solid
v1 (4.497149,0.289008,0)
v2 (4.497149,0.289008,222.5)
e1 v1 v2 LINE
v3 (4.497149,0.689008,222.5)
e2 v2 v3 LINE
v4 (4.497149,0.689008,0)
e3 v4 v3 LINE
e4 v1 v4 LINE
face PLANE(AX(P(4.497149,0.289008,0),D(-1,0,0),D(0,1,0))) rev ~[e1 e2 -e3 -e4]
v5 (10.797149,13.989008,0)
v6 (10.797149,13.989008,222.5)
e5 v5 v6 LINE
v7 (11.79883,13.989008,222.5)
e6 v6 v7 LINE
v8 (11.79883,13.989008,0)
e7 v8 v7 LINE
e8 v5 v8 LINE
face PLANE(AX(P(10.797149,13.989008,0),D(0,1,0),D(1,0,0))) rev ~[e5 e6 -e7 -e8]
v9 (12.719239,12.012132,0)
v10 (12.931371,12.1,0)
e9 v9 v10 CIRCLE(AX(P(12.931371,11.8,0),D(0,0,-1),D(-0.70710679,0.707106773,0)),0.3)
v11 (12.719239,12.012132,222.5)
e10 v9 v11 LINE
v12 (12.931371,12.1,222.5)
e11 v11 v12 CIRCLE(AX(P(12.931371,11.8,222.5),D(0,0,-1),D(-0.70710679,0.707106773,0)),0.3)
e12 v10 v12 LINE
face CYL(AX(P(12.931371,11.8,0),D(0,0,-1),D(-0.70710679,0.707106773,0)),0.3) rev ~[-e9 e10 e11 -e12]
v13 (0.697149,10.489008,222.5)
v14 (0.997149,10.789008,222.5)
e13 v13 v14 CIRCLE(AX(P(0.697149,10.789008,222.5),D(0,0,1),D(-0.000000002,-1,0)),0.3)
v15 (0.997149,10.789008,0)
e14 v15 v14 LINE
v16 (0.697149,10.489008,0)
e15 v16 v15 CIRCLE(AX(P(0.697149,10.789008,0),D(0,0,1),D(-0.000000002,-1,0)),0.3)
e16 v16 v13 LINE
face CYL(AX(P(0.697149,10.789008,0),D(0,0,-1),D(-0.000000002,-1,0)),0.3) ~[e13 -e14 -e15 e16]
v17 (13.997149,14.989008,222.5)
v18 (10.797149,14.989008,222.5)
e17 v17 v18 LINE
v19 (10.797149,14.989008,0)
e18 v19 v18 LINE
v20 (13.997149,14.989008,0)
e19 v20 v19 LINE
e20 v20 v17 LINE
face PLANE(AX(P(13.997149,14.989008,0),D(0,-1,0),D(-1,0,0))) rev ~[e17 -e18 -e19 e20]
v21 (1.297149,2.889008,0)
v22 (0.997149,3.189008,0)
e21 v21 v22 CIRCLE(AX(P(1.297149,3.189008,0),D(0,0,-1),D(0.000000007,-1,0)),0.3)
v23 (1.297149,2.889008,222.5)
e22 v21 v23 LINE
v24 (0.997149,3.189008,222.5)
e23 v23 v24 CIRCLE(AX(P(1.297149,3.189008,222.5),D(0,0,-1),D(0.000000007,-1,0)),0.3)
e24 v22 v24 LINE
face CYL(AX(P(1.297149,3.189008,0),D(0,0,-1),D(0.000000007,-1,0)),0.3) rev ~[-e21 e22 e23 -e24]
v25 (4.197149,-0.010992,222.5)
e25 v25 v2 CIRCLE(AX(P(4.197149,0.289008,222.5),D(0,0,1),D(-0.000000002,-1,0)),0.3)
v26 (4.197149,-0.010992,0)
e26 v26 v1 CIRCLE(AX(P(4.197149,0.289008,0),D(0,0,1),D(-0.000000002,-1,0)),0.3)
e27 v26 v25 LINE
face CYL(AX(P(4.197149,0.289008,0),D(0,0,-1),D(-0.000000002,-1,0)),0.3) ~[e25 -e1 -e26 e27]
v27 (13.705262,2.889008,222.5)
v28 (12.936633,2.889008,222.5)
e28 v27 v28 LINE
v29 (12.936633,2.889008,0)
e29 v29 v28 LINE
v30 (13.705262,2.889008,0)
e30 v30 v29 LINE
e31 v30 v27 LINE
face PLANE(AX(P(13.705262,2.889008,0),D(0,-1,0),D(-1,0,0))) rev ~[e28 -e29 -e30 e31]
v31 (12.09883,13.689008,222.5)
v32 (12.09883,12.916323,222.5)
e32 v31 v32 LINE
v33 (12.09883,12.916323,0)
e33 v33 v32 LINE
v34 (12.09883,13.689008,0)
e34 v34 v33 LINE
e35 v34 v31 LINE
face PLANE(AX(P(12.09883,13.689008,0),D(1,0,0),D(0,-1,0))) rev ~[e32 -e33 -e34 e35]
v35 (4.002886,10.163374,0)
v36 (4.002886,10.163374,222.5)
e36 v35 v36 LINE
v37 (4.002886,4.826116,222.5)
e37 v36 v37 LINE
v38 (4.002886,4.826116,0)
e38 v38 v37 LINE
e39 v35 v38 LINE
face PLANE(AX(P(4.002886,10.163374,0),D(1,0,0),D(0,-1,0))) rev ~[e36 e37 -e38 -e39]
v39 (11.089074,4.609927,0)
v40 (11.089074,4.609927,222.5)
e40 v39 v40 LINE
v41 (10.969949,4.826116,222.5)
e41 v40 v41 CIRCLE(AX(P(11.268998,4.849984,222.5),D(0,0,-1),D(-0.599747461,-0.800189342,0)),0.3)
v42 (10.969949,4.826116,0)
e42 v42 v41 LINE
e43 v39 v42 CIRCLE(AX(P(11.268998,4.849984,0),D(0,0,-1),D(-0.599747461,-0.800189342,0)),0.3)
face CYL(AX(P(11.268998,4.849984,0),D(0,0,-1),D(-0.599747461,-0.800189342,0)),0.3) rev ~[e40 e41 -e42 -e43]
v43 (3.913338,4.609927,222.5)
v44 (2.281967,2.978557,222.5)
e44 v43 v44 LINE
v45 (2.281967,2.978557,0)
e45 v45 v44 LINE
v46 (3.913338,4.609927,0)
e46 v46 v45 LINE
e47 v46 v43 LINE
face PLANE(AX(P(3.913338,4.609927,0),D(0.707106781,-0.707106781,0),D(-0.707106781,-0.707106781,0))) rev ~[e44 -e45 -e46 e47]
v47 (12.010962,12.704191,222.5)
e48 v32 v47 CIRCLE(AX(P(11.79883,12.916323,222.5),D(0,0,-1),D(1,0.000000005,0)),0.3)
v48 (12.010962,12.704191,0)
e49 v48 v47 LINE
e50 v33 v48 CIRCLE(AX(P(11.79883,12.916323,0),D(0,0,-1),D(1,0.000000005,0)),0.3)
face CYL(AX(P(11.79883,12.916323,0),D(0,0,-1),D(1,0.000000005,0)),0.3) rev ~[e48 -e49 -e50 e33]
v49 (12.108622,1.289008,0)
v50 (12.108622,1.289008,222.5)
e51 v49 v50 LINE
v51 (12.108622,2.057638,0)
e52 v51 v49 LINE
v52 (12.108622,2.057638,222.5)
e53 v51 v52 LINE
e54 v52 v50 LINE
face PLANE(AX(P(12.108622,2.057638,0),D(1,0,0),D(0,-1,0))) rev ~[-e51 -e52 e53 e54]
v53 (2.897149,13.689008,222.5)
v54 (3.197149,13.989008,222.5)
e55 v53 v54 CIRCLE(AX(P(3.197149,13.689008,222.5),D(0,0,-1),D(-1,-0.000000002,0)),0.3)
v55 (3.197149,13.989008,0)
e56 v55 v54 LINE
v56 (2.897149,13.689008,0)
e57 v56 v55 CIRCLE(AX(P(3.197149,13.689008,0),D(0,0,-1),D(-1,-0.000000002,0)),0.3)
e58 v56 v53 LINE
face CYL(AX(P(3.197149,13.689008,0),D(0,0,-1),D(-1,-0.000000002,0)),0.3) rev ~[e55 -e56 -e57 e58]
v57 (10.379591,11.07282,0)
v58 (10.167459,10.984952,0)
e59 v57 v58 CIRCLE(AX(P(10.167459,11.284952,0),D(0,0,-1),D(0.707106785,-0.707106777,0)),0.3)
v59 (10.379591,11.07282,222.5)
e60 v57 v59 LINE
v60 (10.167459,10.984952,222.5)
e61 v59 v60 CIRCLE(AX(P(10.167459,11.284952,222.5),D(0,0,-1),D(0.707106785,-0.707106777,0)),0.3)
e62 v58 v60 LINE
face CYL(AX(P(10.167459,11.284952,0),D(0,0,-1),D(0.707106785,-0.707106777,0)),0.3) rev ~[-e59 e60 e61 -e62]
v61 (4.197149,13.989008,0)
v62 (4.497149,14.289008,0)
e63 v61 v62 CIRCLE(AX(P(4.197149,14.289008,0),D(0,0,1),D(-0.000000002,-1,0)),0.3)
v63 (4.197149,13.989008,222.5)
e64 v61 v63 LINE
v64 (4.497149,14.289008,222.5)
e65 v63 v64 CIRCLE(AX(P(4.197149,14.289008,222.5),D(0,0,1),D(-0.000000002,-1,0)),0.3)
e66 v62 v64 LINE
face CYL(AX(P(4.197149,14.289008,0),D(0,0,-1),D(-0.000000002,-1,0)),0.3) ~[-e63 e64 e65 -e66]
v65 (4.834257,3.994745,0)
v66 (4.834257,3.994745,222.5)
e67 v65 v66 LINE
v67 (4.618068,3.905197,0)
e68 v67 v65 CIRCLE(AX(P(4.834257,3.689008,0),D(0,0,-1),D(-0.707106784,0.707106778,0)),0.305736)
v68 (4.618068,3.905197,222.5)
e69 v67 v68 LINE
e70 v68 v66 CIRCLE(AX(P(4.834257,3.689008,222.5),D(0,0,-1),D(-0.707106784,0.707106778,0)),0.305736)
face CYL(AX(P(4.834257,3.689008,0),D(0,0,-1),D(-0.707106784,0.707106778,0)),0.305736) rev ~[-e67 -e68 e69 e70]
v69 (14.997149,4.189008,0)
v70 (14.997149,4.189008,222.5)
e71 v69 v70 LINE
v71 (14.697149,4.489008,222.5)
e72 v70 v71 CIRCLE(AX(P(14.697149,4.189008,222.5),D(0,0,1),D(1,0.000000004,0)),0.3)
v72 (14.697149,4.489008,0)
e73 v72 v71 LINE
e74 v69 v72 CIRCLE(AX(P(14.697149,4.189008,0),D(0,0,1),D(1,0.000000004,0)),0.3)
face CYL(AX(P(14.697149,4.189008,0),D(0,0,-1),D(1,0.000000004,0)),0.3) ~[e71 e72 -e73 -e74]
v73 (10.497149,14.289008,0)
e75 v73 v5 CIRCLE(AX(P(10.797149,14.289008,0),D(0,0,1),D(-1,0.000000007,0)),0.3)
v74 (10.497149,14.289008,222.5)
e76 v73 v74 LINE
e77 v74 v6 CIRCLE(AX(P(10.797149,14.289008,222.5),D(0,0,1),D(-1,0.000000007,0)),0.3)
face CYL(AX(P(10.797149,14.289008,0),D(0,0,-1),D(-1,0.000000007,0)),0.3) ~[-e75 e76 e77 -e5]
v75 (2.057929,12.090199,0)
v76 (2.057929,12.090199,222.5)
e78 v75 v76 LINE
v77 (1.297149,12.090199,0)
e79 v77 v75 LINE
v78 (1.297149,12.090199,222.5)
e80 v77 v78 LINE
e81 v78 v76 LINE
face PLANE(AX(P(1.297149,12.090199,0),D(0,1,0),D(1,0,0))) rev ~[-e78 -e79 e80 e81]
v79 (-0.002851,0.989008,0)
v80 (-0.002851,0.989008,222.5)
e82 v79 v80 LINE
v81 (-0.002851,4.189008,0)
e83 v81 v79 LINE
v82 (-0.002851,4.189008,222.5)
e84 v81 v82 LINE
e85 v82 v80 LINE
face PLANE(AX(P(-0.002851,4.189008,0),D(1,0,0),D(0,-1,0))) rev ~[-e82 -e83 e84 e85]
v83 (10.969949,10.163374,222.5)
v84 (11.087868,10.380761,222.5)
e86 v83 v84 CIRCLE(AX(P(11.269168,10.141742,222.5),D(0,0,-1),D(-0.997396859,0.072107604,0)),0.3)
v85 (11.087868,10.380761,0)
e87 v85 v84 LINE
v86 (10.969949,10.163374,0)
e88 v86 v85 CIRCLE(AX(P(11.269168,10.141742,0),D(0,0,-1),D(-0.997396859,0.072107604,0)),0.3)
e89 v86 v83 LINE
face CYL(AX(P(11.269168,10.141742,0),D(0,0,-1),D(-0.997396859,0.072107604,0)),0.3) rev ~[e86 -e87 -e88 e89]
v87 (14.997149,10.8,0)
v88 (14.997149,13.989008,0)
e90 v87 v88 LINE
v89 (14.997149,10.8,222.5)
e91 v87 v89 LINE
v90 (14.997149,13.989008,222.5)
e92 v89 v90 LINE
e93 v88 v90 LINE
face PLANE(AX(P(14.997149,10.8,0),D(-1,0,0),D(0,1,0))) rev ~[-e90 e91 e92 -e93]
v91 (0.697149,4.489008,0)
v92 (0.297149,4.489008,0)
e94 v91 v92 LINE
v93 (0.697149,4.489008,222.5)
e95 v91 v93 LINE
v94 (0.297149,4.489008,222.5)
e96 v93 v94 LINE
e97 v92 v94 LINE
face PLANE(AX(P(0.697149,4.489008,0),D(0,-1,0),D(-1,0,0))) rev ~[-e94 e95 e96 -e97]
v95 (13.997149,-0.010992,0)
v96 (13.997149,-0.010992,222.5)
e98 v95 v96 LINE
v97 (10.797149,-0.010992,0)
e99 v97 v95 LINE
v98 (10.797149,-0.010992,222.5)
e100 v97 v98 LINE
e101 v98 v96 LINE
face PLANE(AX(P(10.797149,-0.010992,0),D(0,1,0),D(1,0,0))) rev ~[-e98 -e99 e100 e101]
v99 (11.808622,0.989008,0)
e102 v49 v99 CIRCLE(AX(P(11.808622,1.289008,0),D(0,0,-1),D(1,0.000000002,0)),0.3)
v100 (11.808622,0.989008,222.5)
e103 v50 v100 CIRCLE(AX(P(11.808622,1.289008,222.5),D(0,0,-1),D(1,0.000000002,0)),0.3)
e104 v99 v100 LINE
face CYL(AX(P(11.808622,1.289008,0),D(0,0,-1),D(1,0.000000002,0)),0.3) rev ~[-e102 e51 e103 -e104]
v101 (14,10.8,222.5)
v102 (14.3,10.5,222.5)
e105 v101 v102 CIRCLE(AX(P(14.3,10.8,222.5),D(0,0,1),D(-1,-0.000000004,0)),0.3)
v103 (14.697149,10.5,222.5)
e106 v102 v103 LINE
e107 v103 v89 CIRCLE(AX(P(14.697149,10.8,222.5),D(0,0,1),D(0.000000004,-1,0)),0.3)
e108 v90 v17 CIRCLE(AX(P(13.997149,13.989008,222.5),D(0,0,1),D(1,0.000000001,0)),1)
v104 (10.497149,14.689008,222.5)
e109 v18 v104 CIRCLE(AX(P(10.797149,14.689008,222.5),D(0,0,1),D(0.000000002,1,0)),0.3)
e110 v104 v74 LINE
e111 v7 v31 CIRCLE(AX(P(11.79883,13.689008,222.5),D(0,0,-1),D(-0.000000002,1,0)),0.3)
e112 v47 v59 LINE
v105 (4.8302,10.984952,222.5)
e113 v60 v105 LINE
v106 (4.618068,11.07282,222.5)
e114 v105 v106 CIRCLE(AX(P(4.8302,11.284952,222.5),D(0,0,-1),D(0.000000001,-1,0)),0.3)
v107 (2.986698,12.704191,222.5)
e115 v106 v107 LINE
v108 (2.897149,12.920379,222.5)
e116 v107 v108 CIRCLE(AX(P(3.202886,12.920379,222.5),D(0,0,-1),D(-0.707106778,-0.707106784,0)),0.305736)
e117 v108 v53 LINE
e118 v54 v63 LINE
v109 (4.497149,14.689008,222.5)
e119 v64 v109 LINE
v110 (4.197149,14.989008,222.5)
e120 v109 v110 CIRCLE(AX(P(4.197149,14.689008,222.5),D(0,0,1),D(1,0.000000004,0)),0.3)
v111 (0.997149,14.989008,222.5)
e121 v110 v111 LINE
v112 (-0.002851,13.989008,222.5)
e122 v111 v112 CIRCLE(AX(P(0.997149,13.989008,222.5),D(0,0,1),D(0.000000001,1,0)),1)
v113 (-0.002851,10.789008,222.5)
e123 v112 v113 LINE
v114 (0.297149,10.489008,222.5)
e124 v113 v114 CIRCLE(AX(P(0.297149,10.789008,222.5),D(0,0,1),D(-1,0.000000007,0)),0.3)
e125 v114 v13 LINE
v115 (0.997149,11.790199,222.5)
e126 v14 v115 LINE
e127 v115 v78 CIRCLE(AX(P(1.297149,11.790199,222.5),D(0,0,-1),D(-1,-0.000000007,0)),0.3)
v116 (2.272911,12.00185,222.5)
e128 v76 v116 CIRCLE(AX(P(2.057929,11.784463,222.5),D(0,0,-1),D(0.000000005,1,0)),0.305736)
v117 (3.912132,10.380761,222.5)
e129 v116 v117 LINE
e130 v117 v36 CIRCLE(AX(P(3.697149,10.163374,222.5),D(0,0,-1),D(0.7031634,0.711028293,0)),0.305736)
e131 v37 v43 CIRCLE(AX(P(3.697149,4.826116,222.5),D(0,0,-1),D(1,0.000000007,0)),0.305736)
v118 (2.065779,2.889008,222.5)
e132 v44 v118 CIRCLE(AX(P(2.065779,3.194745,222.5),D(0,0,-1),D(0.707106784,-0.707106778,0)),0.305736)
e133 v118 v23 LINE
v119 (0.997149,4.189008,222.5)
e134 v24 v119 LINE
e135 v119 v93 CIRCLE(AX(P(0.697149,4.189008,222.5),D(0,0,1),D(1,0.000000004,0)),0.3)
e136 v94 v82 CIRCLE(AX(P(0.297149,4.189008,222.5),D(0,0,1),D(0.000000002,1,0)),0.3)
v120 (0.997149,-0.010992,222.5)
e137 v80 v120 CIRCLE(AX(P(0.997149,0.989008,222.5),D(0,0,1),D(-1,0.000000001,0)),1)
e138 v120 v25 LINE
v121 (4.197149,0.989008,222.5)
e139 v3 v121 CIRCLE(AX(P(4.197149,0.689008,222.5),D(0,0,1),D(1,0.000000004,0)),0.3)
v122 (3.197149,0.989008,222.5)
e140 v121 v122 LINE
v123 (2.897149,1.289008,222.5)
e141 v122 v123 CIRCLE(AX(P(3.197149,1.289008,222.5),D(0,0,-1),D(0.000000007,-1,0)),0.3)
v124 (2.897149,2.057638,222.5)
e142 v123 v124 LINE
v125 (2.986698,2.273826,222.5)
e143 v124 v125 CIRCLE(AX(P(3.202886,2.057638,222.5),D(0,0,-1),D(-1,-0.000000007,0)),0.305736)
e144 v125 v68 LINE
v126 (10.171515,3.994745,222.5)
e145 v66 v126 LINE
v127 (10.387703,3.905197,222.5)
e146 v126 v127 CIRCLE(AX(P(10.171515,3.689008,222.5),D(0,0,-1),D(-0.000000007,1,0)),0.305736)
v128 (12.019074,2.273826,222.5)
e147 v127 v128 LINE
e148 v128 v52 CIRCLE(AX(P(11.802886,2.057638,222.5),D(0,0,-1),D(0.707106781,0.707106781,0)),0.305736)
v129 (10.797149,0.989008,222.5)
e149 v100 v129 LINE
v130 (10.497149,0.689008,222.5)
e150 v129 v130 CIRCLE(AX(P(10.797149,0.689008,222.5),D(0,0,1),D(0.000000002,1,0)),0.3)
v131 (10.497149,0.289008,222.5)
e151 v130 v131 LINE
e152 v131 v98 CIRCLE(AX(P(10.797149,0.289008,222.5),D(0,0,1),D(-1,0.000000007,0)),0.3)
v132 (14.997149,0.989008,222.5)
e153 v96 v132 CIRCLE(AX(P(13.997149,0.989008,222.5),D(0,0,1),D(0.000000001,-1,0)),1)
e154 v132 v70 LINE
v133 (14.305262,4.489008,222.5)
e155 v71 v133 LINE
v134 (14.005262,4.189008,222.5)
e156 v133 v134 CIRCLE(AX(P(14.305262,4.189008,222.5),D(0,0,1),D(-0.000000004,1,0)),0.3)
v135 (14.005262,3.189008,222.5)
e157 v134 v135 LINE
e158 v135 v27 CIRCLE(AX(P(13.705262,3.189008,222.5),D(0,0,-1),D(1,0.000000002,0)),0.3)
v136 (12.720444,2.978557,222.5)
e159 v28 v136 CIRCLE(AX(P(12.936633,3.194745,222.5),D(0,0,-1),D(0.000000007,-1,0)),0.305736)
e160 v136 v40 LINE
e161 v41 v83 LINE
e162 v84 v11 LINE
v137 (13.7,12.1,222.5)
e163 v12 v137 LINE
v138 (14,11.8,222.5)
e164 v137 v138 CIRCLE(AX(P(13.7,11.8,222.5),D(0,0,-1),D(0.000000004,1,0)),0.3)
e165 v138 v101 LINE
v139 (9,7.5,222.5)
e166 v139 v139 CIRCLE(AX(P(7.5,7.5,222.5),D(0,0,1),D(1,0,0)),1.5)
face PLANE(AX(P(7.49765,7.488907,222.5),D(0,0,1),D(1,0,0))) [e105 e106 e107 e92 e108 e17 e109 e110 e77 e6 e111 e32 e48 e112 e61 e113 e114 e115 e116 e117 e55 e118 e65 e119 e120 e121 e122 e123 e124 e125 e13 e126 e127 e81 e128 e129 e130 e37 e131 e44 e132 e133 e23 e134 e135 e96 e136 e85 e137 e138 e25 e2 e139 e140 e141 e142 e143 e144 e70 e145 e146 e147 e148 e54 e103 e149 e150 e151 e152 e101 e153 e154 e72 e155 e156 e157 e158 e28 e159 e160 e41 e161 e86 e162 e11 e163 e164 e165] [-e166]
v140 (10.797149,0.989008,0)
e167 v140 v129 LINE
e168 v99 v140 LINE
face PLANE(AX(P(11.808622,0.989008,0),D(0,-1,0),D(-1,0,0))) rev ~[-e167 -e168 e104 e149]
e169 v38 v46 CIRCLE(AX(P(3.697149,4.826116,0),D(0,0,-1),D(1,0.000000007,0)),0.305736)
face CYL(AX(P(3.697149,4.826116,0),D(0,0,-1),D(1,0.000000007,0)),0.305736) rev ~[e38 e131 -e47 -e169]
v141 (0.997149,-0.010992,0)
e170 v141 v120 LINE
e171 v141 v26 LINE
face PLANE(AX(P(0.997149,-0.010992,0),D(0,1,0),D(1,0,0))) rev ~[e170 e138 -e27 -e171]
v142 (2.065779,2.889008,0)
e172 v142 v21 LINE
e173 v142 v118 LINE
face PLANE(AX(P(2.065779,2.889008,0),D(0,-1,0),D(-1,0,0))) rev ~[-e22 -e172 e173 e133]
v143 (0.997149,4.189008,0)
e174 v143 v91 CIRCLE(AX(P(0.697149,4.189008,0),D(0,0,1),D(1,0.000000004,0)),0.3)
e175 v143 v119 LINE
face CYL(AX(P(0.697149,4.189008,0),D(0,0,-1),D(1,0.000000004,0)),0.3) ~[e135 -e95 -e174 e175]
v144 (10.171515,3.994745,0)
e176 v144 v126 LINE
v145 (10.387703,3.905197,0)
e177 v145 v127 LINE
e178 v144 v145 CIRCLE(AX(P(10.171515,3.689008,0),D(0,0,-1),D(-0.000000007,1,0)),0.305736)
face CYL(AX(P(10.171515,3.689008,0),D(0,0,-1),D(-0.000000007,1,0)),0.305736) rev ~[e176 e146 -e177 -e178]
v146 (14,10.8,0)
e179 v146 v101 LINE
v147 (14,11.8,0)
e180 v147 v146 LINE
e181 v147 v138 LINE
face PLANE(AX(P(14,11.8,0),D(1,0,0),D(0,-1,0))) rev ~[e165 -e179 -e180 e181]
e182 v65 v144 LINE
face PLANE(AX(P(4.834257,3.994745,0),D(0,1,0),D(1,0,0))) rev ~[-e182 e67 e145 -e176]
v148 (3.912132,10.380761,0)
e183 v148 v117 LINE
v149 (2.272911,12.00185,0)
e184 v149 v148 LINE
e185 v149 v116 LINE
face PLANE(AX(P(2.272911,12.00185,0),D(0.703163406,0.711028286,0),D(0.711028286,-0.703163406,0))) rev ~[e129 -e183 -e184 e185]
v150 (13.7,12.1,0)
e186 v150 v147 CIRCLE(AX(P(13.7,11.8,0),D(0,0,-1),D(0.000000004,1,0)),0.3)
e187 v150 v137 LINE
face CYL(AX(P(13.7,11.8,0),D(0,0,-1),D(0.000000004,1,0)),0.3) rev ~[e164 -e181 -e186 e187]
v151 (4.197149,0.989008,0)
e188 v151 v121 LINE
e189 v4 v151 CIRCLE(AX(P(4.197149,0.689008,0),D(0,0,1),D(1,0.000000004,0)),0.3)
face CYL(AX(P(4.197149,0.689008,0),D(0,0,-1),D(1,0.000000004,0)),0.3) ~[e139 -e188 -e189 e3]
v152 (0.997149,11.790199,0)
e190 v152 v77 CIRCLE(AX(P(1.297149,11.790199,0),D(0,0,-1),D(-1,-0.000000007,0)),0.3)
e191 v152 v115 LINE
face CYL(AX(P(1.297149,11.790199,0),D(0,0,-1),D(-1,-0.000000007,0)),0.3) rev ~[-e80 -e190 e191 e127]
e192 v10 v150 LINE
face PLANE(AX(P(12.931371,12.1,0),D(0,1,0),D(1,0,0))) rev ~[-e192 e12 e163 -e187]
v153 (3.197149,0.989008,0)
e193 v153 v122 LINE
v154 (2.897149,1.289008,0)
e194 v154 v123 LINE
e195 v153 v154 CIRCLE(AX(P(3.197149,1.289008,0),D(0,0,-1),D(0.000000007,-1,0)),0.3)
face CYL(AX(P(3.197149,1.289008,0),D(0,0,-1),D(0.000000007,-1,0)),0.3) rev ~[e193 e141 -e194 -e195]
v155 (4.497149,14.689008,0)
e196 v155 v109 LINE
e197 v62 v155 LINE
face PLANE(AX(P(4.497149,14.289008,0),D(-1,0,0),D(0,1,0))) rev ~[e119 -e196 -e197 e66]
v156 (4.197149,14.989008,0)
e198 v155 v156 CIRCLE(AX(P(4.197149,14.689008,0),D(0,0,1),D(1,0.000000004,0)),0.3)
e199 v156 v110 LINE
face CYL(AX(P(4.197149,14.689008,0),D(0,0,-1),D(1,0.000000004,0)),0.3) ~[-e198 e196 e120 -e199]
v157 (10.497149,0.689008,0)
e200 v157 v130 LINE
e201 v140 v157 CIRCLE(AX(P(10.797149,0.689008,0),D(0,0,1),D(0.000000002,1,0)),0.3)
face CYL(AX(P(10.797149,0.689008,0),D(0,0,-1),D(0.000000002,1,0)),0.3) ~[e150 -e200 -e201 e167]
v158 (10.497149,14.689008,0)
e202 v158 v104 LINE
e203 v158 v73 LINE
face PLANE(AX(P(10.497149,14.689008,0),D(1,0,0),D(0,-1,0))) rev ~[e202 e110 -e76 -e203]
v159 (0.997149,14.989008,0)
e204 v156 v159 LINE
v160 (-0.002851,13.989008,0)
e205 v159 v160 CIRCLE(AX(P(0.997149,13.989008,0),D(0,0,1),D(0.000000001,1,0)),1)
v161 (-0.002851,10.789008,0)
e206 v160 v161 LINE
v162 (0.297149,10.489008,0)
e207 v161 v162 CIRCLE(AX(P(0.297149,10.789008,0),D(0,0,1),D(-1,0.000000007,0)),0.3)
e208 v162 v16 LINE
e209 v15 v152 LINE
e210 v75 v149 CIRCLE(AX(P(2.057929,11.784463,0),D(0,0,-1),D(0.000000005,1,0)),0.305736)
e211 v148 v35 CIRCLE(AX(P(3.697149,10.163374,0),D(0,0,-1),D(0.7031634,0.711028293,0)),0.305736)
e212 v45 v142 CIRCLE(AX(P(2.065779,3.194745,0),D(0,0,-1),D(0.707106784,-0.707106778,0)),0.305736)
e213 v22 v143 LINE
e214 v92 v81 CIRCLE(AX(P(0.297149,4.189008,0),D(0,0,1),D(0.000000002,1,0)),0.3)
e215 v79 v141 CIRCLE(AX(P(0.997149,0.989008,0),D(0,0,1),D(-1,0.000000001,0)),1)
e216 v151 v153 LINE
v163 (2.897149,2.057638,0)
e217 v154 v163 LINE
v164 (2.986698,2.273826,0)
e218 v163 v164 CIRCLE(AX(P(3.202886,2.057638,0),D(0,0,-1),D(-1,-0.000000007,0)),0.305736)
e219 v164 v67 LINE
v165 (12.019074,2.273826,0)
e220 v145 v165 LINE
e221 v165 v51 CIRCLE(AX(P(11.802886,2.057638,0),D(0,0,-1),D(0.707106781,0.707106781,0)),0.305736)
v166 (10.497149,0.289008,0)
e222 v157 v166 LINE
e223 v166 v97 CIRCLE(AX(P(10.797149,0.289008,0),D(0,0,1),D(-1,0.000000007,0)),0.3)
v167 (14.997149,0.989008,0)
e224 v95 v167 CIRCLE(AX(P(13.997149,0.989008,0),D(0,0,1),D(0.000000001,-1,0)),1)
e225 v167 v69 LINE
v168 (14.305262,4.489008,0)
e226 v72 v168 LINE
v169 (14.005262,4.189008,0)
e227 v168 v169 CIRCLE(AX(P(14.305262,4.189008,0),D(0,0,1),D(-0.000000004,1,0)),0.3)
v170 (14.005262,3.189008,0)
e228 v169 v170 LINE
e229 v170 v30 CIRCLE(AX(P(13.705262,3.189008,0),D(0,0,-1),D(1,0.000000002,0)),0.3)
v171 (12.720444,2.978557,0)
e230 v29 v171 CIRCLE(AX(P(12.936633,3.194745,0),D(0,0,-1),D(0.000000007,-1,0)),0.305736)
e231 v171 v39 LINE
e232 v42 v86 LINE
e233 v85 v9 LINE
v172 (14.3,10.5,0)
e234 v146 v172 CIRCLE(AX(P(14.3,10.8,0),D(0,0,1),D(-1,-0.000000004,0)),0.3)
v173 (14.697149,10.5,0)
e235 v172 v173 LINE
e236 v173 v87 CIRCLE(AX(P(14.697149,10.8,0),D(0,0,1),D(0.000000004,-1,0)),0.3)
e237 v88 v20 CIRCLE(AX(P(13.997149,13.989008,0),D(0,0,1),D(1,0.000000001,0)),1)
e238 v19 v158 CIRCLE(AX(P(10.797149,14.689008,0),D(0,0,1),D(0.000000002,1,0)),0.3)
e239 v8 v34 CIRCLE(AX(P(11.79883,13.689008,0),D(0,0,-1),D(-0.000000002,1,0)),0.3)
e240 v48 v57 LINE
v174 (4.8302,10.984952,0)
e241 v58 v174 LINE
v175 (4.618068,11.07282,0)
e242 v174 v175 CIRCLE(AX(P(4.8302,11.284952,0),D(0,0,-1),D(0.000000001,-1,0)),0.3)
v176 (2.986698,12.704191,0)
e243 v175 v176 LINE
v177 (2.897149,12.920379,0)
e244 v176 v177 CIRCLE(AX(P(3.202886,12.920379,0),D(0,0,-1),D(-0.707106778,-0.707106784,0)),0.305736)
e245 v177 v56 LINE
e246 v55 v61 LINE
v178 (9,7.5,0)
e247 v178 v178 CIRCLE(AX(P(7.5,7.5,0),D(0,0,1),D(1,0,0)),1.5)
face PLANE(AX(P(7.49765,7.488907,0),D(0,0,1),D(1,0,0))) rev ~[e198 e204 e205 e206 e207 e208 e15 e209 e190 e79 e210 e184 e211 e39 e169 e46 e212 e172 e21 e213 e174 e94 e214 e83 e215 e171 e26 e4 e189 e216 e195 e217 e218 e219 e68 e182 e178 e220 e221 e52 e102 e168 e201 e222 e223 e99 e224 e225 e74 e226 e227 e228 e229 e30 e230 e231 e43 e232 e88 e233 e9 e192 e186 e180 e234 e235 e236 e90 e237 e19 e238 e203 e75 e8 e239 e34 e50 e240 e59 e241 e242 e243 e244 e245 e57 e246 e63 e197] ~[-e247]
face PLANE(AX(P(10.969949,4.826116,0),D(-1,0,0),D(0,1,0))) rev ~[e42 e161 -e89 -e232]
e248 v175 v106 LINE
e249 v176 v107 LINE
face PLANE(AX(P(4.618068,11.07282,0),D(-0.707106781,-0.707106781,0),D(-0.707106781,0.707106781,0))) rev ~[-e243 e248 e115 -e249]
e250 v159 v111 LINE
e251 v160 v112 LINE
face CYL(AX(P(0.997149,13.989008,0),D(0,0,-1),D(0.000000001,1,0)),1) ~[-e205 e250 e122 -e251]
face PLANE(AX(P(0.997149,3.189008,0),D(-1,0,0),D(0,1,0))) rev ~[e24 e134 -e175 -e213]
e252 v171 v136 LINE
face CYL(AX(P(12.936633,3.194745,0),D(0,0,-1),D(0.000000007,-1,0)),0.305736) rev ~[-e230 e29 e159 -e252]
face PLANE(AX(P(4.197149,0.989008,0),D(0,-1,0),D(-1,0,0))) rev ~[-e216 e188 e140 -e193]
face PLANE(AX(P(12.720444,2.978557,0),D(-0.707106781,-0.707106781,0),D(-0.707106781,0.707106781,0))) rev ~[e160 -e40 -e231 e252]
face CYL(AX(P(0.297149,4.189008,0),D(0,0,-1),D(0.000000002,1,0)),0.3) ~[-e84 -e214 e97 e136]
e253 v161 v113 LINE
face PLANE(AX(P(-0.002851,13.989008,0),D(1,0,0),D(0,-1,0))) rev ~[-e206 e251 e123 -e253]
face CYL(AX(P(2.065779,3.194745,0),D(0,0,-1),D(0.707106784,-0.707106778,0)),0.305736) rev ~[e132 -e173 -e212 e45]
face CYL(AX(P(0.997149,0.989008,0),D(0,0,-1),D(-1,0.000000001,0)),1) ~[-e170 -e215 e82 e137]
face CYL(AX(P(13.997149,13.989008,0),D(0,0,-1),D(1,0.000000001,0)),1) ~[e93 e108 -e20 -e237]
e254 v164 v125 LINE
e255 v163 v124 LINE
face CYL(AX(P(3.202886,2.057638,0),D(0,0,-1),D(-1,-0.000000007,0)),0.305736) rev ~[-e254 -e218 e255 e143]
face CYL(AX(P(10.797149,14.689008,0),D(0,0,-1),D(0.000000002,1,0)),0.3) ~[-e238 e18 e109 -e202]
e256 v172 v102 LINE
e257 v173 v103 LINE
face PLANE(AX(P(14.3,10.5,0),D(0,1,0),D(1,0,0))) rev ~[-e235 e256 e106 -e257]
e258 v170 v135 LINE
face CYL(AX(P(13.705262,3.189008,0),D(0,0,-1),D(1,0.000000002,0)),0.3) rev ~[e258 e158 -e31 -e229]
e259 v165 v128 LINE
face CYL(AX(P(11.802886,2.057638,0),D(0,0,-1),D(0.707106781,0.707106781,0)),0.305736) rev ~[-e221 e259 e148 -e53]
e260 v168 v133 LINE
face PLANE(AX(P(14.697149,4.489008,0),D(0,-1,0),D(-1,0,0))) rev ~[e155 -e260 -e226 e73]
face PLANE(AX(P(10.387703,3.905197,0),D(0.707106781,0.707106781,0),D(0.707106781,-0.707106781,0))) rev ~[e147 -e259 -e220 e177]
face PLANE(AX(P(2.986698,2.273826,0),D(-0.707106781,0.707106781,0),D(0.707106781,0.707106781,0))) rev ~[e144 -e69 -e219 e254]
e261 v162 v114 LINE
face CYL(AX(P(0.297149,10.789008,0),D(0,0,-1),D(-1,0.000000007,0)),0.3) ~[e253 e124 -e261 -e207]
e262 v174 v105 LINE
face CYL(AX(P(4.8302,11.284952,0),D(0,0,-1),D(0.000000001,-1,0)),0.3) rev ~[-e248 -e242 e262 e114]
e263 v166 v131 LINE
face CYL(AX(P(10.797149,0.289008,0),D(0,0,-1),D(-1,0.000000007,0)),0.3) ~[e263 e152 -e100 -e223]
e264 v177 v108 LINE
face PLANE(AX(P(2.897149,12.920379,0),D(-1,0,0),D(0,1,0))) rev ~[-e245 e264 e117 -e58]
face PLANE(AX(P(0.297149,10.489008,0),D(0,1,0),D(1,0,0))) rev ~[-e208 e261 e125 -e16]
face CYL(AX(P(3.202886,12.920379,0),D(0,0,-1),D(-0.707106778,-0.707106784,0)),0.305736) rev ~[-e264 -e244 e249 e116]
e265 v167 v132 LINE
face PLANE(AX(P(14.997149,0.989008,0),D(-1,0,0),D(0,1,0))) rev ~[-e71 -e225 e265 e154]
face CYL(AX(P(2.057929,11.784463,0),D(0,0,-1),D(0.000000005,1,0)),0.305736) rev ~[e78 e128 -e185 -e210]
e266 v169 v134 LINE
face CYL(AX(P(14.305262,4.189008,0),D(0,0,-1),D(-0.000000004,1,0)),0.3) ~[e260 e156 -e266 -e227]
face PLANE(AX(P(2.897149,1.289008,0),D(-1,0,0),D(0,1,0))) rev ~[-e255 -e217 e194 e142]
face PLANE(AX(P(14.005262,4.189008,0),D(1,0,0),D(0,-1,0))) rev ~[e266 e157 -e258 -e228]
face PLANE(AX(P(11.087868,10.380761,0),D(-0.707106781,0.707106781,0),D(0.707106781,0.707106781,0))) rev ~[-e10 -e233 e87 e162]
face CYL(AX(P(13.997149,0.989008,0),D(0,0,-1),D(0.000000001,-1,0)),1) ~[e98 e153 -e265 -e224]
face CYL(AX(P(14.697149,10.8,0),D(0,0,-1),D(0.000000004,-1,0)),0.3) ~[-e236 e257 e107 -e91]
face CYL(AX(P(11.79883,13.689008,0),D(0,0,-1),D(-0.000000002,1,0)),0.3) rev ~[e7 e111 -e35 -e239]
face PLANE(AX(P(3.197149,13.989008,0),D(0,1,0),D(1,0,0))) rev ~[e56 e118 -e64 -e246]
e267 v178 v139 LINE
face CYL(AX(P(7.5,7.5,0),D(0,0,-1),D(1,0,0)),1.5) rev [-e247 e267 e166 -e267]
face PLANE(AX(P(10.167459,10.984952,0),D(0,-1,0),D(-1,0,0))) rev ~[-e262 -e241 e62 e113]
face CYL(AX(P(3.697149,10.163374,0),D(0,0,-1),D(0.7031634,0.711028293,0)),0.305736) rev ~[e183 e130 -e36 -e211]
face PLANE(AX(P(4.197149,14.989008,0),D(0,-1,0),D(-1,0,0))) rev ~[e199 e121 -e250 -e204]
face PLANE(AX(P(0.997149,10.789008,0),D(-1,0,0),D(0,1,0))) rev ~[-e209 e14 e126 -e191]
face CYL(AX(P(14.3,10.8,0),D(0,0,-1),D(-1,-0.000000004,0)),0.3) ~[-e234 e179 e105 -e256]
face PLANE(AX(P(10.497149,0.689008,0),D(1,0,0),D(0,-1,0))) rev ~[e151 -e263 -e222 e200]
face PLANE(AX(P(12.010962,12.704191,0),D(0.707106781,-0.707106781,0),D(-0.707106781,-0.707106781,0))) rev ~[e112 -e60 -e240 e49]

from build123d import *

# Parameters (mm, degrees)
SKETCH1_R           = 1.5
BOSS_EXTRUDE1_DEPTH = 222.5


with BuildPart() as part:
    # Sketch1 → Boss-Extrude1 (new body)
    with BuildSketch(Plane.XY):
        with BuildLine():
            Line((0.997149379, -0.010991612), (4.197149379, -0.010991612))
            ThreePointArc((4.197149379, -0.010991612), (4.409281413, 0.076876353), (4.497149379, 0.289008388))
            Line((4.497149379, 0.289008388), (4.497149379, 0.689008388))
            ThreePointArc((4.497149379, 0.689008388), (4.409281413, 0.901140422), (4.197149379, 0.989008388))
            Line((4.197149379, 0.989008388), (3.197149379, 0.989008388))
            ThreePointArc((3.197149379, 0.989008388), (2.985017344, 1.076876353), (2.897149379, 1.289008388))
            Line((2.897149379, 1.289008388), (2.897149379, 2.057637538))
            ThreePointArc((2.897149379, 2.057637538), (2.920422177, 2.174637797), (2.9866975, 2.273825827))
            Line((2.9866975, 2.273825827), (4.61806835, 3.905196677))
            ThreePointArc((4.61806835, 3.905196677), (4.71725638, 3.971472), (4.834256639, 3.994744798))
            Line((4.834256639, 3.994744798), (10.171514939, 3.994744798))
            ThreePointArc((10.171514939, 3.994744798), (10.288515198, 3.971472), (10.387703228, 3.905196677))
            Line((10.387703228, 3.905196677), (12.019074078, 2.273825827))
            ThreePointArc((12.019074078, 2.273825827), (12.085349401, 2.174637797), (12.1086222, 2.057637538))
            Line((12.1086222, 2.057637538), (12.1086222, 1.289008388))
            ThreePointArc((12.1086222, 1.289008388), (12.020754234, 1.076876353), (11.8086222, 0.989008388))
            Line((11.8086222, 0.989008388), (10.797149379, 0.989008388))
            ThreePointArc((10.797149379, 0.989008388), (10.585017344, 0.901140422), (10.497149379, 0.689008388))
            Line((10.497149379, 0.689008388), (10.497149379, 0.289008388))
            ThreePointArc((10.497149379, 0.289008388), (10.585017344, 0.076876353), (10.797149379, -0.010991612))
            Line((10.797149379, -0.010991612), (13.997149379, -0.010991612))
            ThreePointArc((13.997149379, -0.010991612), (14.70425616, 0.281901607), (14.997149379, 0.989008388))
            Line((14.997149379, 0.989008388), (14.997149379, 4.189008388))
            ThreePointArc((14.997149379, 4.189008388), (14.909281413, 4.401140422), (14.697149379, 4.489008388))
            Line((14.697149379, 4.489008388), (14.305261888, 4.489008388))
            ThreePointArc((14.305261888, 4.489008388), (14.093129854, 4.401140422), (14.005261888, 4.189008388))
            Line((14.005261888, 4.189008388), (14.005261888, 3.189008388))
            ThreePointArc((14.005261888, 3.189008388), (13.917393922, 2.976876353), (13.705261888, 2.889008388))
            Line((13.705261888, 2.889008388), (12.936632738, 2.889008388))
            ThreePointArc((12.936632738, 2.889008388), (12.819632479, 2.912281186), (12.720444449, 2.978556509))
            Line((12.720444449, 2.978556509), (11.089073599, 4.609927359))
            ThreePointArc((11.089073599, 4.609927359), (11.006246661, 4.70520219), (10.969948855, 4.826115648))
            Line((10.969948855, 4.826115648), (10.969948855, 10.163373948))
            ThreePointArc((10.969948855, 10.163373948), (11.00546556, 10.284783861), (11.087867966, 10.380761184))
            Line((11.087867966, 10.380761184), (12.719238816, 12.012132034))
            ThreePointArc((12.719238816, 12.012132034), (12.81656582, 12.07716386), (12.93137085, 12.1))
            Line((12.93137085, 12.1), (13.7, 12.1))
            ThreePointArc((13.7, 12.1), (13.912132034, 12.012132034), (14, 11.8))
            Line((14, 11.8), (14, 10.8))
            ThreePointArc((14, 10.8), (14.087867966, 10.587867966), (14.3, 10.5))
            Line((14.3, 10.5), (14.697149379, 10.5))
            ThreePointArc((14.697149379, 10.5), (14.909281413, 10.587867966), (14.997149379, 10.8))
            Line((14.997149379, 10.8), (14.997149379, 13.989008388))
            ThreePointArc((14.997149379, 13.989008388), (14.70425616, 14.696115169), (13.997149379, 14.989008388))
            Line((13.997149379, 14.989008388), (10.797149379, 14.989008388))
            ThreePointArc((10.797149379, 14.989008388), (10.585017344, 14.901140422), (10.497149379, 14.689008388))
            Line((10.497149379, 14.689008388), (10.497149379, 14.289008388))
            ThreePointArc((10.497149379, 14.289008388), (10.585017344, 14.076876353), (10.797149379, 13.989008388))
            Line((10.797149379, 13.989008388), (11.798829534, 13.989008388))
            ThreePointArc((11.798829534, 13.989008388), (12.010961569, 13.901140422), (12.098829534, 13.689008388))
            Line((12.098829534, 13.689008388), (12.098829534, 12.916322983))
            ThreePointArc((12.098829534, 12.916322983), (12.075993394, 12.801517953), (12.010961569, 12.704190949))
            Line((12.010961569, 12.704190949), (10.379590719, 11.072820099))
            ThreePointArc((10.379590719, 11.072820099), (10.282263714, 11.007788273), (10.167458684, 10.984952133))
            Line((10.167458684, 10.984952133), (4.830200384, 10.984952133))
            ThreePointArc((4.830200384, 10.984952133), (4.715395355, 11.007788273), (4.61806835, 11.072820099))
            Line((4.61806835, 11.072820099), (2.9866975, 12.704190949))
            ThreePointArc((2.9866975, 12.704190949), (2.920422177, 12.803378979), (2.897149379, 12.920379238))
            Line((2.897149379, 12.920379238), (2.897149379, 13.689008388))
            ThreePointArc((2.897149379, 13.689008388), (2.985017344, 13.901140422), (3.197149379, 13.989008388))
            Line((3.197149379, 13.989008388), (4.197149379, 13.989008388))
            ThreePointArc((4.197149379, 13.989008388), (4.409281413, 14.076876353), (4.497149379, 14.289008388))
            Line((4.497149379, 14.289008388), (4.497149379, 14.689008388))
            ThreePointArc((4.497149379, 14.689008388), (4.409281413, 14.901140422), (4.197149379, 14.989008388))
            Line((4.197149379, 14.989008388), (0.997149379, 14.989008388))
            ThreePointArc((0.997149379, 14.989008388), (0.290042597, 14.696115169), (-0.002850621, 13.989008388))
            Line((-0.002850621, 13.989008388), (-0.002850621, 10.789008388))
            ThreePointArc((-0.002850621, 10.789008388), (0.085017344, 10.576876353), (0.297149379, 10.489008388))
            Line((0.297149379, 10.489008388), (0.697149379, 10.489008388))
            ThreePointArc((0.697149379, 10.489008388), (0.909281413, 10.576876353), (0.997149379, 10.789008388))
            Line((0.997149379, 10.789008388), (0.997149379, 11.790199043))
            ThreePointArc((0.997149379, 11.790199043), (1.085017344, 12.002331078), (1.297149379, 12.090199043))
            Line((1.297149379, 12.090199043), (2.057928823, 12.090199043))
            ThreePointArc((2.057928823, 12.090199043), (2.174143192, 12.067250491), (2.272911478, 12.001849869))
            Line((2.272911478, 12.001849869), (3.912132034, 10.380761184))
            ThreePointArc((3.912132034, 10.380761184), (3.97928656, 10.281159192), (4.002885789, 10.163373948))
            Line((4.002885789, 10.163373948), (4.002885789, 4.826115648))
            ThreePointArc((4.002885789, 4.826115648), (3.979612991, 4.709115389), (3.913337668, 4.609927359))
            Line((3.913337668, 4.609927359), (2.281966818, 2.978556509))
            ThreePointArc((2.281966818, 2.978556509), (2.182778788, 2.912281186), (2.065778529, 2.889008388))
            Line((2.065778529, 2.889008388), (1.297149379, 2.889008388))
            ThreePointArc((1.297149379, 2.889008388), (1.085017344, 2.976876353), (0.997149379, 3.189008388))
            Line((0.997149379, 3.189008388), (0.997149379, 4.189008388))
            ThreePointArc((0.997149379, 4.189008388), (0.909281413, 4.401140422), (0.697149379, 4.489008388))
            Line((0.697149379, 4.489008388), (0.297149379, 4.489008388))
            ThreePointArc((0.297149379, 4.489008388), (0.085017344, 4.401140422), (-0.002850621, 4.189008388))
            Line((-0.002850621, 4.189008388), (-0.002850621, 0.989008388))
            ThreePointArc((-0.002850621, 0.989008388), (0.290042597, 0.281901607), (0.997149379, -0.010991612))
        make_face()
        with Locations((7.5, 7.5)):
            Circle(SKETCH1_R, mode=Mode.SUBTRACT)
    extrude(amount=BOSS_EXTRUDE1_DEPTH)


solid = part.part
